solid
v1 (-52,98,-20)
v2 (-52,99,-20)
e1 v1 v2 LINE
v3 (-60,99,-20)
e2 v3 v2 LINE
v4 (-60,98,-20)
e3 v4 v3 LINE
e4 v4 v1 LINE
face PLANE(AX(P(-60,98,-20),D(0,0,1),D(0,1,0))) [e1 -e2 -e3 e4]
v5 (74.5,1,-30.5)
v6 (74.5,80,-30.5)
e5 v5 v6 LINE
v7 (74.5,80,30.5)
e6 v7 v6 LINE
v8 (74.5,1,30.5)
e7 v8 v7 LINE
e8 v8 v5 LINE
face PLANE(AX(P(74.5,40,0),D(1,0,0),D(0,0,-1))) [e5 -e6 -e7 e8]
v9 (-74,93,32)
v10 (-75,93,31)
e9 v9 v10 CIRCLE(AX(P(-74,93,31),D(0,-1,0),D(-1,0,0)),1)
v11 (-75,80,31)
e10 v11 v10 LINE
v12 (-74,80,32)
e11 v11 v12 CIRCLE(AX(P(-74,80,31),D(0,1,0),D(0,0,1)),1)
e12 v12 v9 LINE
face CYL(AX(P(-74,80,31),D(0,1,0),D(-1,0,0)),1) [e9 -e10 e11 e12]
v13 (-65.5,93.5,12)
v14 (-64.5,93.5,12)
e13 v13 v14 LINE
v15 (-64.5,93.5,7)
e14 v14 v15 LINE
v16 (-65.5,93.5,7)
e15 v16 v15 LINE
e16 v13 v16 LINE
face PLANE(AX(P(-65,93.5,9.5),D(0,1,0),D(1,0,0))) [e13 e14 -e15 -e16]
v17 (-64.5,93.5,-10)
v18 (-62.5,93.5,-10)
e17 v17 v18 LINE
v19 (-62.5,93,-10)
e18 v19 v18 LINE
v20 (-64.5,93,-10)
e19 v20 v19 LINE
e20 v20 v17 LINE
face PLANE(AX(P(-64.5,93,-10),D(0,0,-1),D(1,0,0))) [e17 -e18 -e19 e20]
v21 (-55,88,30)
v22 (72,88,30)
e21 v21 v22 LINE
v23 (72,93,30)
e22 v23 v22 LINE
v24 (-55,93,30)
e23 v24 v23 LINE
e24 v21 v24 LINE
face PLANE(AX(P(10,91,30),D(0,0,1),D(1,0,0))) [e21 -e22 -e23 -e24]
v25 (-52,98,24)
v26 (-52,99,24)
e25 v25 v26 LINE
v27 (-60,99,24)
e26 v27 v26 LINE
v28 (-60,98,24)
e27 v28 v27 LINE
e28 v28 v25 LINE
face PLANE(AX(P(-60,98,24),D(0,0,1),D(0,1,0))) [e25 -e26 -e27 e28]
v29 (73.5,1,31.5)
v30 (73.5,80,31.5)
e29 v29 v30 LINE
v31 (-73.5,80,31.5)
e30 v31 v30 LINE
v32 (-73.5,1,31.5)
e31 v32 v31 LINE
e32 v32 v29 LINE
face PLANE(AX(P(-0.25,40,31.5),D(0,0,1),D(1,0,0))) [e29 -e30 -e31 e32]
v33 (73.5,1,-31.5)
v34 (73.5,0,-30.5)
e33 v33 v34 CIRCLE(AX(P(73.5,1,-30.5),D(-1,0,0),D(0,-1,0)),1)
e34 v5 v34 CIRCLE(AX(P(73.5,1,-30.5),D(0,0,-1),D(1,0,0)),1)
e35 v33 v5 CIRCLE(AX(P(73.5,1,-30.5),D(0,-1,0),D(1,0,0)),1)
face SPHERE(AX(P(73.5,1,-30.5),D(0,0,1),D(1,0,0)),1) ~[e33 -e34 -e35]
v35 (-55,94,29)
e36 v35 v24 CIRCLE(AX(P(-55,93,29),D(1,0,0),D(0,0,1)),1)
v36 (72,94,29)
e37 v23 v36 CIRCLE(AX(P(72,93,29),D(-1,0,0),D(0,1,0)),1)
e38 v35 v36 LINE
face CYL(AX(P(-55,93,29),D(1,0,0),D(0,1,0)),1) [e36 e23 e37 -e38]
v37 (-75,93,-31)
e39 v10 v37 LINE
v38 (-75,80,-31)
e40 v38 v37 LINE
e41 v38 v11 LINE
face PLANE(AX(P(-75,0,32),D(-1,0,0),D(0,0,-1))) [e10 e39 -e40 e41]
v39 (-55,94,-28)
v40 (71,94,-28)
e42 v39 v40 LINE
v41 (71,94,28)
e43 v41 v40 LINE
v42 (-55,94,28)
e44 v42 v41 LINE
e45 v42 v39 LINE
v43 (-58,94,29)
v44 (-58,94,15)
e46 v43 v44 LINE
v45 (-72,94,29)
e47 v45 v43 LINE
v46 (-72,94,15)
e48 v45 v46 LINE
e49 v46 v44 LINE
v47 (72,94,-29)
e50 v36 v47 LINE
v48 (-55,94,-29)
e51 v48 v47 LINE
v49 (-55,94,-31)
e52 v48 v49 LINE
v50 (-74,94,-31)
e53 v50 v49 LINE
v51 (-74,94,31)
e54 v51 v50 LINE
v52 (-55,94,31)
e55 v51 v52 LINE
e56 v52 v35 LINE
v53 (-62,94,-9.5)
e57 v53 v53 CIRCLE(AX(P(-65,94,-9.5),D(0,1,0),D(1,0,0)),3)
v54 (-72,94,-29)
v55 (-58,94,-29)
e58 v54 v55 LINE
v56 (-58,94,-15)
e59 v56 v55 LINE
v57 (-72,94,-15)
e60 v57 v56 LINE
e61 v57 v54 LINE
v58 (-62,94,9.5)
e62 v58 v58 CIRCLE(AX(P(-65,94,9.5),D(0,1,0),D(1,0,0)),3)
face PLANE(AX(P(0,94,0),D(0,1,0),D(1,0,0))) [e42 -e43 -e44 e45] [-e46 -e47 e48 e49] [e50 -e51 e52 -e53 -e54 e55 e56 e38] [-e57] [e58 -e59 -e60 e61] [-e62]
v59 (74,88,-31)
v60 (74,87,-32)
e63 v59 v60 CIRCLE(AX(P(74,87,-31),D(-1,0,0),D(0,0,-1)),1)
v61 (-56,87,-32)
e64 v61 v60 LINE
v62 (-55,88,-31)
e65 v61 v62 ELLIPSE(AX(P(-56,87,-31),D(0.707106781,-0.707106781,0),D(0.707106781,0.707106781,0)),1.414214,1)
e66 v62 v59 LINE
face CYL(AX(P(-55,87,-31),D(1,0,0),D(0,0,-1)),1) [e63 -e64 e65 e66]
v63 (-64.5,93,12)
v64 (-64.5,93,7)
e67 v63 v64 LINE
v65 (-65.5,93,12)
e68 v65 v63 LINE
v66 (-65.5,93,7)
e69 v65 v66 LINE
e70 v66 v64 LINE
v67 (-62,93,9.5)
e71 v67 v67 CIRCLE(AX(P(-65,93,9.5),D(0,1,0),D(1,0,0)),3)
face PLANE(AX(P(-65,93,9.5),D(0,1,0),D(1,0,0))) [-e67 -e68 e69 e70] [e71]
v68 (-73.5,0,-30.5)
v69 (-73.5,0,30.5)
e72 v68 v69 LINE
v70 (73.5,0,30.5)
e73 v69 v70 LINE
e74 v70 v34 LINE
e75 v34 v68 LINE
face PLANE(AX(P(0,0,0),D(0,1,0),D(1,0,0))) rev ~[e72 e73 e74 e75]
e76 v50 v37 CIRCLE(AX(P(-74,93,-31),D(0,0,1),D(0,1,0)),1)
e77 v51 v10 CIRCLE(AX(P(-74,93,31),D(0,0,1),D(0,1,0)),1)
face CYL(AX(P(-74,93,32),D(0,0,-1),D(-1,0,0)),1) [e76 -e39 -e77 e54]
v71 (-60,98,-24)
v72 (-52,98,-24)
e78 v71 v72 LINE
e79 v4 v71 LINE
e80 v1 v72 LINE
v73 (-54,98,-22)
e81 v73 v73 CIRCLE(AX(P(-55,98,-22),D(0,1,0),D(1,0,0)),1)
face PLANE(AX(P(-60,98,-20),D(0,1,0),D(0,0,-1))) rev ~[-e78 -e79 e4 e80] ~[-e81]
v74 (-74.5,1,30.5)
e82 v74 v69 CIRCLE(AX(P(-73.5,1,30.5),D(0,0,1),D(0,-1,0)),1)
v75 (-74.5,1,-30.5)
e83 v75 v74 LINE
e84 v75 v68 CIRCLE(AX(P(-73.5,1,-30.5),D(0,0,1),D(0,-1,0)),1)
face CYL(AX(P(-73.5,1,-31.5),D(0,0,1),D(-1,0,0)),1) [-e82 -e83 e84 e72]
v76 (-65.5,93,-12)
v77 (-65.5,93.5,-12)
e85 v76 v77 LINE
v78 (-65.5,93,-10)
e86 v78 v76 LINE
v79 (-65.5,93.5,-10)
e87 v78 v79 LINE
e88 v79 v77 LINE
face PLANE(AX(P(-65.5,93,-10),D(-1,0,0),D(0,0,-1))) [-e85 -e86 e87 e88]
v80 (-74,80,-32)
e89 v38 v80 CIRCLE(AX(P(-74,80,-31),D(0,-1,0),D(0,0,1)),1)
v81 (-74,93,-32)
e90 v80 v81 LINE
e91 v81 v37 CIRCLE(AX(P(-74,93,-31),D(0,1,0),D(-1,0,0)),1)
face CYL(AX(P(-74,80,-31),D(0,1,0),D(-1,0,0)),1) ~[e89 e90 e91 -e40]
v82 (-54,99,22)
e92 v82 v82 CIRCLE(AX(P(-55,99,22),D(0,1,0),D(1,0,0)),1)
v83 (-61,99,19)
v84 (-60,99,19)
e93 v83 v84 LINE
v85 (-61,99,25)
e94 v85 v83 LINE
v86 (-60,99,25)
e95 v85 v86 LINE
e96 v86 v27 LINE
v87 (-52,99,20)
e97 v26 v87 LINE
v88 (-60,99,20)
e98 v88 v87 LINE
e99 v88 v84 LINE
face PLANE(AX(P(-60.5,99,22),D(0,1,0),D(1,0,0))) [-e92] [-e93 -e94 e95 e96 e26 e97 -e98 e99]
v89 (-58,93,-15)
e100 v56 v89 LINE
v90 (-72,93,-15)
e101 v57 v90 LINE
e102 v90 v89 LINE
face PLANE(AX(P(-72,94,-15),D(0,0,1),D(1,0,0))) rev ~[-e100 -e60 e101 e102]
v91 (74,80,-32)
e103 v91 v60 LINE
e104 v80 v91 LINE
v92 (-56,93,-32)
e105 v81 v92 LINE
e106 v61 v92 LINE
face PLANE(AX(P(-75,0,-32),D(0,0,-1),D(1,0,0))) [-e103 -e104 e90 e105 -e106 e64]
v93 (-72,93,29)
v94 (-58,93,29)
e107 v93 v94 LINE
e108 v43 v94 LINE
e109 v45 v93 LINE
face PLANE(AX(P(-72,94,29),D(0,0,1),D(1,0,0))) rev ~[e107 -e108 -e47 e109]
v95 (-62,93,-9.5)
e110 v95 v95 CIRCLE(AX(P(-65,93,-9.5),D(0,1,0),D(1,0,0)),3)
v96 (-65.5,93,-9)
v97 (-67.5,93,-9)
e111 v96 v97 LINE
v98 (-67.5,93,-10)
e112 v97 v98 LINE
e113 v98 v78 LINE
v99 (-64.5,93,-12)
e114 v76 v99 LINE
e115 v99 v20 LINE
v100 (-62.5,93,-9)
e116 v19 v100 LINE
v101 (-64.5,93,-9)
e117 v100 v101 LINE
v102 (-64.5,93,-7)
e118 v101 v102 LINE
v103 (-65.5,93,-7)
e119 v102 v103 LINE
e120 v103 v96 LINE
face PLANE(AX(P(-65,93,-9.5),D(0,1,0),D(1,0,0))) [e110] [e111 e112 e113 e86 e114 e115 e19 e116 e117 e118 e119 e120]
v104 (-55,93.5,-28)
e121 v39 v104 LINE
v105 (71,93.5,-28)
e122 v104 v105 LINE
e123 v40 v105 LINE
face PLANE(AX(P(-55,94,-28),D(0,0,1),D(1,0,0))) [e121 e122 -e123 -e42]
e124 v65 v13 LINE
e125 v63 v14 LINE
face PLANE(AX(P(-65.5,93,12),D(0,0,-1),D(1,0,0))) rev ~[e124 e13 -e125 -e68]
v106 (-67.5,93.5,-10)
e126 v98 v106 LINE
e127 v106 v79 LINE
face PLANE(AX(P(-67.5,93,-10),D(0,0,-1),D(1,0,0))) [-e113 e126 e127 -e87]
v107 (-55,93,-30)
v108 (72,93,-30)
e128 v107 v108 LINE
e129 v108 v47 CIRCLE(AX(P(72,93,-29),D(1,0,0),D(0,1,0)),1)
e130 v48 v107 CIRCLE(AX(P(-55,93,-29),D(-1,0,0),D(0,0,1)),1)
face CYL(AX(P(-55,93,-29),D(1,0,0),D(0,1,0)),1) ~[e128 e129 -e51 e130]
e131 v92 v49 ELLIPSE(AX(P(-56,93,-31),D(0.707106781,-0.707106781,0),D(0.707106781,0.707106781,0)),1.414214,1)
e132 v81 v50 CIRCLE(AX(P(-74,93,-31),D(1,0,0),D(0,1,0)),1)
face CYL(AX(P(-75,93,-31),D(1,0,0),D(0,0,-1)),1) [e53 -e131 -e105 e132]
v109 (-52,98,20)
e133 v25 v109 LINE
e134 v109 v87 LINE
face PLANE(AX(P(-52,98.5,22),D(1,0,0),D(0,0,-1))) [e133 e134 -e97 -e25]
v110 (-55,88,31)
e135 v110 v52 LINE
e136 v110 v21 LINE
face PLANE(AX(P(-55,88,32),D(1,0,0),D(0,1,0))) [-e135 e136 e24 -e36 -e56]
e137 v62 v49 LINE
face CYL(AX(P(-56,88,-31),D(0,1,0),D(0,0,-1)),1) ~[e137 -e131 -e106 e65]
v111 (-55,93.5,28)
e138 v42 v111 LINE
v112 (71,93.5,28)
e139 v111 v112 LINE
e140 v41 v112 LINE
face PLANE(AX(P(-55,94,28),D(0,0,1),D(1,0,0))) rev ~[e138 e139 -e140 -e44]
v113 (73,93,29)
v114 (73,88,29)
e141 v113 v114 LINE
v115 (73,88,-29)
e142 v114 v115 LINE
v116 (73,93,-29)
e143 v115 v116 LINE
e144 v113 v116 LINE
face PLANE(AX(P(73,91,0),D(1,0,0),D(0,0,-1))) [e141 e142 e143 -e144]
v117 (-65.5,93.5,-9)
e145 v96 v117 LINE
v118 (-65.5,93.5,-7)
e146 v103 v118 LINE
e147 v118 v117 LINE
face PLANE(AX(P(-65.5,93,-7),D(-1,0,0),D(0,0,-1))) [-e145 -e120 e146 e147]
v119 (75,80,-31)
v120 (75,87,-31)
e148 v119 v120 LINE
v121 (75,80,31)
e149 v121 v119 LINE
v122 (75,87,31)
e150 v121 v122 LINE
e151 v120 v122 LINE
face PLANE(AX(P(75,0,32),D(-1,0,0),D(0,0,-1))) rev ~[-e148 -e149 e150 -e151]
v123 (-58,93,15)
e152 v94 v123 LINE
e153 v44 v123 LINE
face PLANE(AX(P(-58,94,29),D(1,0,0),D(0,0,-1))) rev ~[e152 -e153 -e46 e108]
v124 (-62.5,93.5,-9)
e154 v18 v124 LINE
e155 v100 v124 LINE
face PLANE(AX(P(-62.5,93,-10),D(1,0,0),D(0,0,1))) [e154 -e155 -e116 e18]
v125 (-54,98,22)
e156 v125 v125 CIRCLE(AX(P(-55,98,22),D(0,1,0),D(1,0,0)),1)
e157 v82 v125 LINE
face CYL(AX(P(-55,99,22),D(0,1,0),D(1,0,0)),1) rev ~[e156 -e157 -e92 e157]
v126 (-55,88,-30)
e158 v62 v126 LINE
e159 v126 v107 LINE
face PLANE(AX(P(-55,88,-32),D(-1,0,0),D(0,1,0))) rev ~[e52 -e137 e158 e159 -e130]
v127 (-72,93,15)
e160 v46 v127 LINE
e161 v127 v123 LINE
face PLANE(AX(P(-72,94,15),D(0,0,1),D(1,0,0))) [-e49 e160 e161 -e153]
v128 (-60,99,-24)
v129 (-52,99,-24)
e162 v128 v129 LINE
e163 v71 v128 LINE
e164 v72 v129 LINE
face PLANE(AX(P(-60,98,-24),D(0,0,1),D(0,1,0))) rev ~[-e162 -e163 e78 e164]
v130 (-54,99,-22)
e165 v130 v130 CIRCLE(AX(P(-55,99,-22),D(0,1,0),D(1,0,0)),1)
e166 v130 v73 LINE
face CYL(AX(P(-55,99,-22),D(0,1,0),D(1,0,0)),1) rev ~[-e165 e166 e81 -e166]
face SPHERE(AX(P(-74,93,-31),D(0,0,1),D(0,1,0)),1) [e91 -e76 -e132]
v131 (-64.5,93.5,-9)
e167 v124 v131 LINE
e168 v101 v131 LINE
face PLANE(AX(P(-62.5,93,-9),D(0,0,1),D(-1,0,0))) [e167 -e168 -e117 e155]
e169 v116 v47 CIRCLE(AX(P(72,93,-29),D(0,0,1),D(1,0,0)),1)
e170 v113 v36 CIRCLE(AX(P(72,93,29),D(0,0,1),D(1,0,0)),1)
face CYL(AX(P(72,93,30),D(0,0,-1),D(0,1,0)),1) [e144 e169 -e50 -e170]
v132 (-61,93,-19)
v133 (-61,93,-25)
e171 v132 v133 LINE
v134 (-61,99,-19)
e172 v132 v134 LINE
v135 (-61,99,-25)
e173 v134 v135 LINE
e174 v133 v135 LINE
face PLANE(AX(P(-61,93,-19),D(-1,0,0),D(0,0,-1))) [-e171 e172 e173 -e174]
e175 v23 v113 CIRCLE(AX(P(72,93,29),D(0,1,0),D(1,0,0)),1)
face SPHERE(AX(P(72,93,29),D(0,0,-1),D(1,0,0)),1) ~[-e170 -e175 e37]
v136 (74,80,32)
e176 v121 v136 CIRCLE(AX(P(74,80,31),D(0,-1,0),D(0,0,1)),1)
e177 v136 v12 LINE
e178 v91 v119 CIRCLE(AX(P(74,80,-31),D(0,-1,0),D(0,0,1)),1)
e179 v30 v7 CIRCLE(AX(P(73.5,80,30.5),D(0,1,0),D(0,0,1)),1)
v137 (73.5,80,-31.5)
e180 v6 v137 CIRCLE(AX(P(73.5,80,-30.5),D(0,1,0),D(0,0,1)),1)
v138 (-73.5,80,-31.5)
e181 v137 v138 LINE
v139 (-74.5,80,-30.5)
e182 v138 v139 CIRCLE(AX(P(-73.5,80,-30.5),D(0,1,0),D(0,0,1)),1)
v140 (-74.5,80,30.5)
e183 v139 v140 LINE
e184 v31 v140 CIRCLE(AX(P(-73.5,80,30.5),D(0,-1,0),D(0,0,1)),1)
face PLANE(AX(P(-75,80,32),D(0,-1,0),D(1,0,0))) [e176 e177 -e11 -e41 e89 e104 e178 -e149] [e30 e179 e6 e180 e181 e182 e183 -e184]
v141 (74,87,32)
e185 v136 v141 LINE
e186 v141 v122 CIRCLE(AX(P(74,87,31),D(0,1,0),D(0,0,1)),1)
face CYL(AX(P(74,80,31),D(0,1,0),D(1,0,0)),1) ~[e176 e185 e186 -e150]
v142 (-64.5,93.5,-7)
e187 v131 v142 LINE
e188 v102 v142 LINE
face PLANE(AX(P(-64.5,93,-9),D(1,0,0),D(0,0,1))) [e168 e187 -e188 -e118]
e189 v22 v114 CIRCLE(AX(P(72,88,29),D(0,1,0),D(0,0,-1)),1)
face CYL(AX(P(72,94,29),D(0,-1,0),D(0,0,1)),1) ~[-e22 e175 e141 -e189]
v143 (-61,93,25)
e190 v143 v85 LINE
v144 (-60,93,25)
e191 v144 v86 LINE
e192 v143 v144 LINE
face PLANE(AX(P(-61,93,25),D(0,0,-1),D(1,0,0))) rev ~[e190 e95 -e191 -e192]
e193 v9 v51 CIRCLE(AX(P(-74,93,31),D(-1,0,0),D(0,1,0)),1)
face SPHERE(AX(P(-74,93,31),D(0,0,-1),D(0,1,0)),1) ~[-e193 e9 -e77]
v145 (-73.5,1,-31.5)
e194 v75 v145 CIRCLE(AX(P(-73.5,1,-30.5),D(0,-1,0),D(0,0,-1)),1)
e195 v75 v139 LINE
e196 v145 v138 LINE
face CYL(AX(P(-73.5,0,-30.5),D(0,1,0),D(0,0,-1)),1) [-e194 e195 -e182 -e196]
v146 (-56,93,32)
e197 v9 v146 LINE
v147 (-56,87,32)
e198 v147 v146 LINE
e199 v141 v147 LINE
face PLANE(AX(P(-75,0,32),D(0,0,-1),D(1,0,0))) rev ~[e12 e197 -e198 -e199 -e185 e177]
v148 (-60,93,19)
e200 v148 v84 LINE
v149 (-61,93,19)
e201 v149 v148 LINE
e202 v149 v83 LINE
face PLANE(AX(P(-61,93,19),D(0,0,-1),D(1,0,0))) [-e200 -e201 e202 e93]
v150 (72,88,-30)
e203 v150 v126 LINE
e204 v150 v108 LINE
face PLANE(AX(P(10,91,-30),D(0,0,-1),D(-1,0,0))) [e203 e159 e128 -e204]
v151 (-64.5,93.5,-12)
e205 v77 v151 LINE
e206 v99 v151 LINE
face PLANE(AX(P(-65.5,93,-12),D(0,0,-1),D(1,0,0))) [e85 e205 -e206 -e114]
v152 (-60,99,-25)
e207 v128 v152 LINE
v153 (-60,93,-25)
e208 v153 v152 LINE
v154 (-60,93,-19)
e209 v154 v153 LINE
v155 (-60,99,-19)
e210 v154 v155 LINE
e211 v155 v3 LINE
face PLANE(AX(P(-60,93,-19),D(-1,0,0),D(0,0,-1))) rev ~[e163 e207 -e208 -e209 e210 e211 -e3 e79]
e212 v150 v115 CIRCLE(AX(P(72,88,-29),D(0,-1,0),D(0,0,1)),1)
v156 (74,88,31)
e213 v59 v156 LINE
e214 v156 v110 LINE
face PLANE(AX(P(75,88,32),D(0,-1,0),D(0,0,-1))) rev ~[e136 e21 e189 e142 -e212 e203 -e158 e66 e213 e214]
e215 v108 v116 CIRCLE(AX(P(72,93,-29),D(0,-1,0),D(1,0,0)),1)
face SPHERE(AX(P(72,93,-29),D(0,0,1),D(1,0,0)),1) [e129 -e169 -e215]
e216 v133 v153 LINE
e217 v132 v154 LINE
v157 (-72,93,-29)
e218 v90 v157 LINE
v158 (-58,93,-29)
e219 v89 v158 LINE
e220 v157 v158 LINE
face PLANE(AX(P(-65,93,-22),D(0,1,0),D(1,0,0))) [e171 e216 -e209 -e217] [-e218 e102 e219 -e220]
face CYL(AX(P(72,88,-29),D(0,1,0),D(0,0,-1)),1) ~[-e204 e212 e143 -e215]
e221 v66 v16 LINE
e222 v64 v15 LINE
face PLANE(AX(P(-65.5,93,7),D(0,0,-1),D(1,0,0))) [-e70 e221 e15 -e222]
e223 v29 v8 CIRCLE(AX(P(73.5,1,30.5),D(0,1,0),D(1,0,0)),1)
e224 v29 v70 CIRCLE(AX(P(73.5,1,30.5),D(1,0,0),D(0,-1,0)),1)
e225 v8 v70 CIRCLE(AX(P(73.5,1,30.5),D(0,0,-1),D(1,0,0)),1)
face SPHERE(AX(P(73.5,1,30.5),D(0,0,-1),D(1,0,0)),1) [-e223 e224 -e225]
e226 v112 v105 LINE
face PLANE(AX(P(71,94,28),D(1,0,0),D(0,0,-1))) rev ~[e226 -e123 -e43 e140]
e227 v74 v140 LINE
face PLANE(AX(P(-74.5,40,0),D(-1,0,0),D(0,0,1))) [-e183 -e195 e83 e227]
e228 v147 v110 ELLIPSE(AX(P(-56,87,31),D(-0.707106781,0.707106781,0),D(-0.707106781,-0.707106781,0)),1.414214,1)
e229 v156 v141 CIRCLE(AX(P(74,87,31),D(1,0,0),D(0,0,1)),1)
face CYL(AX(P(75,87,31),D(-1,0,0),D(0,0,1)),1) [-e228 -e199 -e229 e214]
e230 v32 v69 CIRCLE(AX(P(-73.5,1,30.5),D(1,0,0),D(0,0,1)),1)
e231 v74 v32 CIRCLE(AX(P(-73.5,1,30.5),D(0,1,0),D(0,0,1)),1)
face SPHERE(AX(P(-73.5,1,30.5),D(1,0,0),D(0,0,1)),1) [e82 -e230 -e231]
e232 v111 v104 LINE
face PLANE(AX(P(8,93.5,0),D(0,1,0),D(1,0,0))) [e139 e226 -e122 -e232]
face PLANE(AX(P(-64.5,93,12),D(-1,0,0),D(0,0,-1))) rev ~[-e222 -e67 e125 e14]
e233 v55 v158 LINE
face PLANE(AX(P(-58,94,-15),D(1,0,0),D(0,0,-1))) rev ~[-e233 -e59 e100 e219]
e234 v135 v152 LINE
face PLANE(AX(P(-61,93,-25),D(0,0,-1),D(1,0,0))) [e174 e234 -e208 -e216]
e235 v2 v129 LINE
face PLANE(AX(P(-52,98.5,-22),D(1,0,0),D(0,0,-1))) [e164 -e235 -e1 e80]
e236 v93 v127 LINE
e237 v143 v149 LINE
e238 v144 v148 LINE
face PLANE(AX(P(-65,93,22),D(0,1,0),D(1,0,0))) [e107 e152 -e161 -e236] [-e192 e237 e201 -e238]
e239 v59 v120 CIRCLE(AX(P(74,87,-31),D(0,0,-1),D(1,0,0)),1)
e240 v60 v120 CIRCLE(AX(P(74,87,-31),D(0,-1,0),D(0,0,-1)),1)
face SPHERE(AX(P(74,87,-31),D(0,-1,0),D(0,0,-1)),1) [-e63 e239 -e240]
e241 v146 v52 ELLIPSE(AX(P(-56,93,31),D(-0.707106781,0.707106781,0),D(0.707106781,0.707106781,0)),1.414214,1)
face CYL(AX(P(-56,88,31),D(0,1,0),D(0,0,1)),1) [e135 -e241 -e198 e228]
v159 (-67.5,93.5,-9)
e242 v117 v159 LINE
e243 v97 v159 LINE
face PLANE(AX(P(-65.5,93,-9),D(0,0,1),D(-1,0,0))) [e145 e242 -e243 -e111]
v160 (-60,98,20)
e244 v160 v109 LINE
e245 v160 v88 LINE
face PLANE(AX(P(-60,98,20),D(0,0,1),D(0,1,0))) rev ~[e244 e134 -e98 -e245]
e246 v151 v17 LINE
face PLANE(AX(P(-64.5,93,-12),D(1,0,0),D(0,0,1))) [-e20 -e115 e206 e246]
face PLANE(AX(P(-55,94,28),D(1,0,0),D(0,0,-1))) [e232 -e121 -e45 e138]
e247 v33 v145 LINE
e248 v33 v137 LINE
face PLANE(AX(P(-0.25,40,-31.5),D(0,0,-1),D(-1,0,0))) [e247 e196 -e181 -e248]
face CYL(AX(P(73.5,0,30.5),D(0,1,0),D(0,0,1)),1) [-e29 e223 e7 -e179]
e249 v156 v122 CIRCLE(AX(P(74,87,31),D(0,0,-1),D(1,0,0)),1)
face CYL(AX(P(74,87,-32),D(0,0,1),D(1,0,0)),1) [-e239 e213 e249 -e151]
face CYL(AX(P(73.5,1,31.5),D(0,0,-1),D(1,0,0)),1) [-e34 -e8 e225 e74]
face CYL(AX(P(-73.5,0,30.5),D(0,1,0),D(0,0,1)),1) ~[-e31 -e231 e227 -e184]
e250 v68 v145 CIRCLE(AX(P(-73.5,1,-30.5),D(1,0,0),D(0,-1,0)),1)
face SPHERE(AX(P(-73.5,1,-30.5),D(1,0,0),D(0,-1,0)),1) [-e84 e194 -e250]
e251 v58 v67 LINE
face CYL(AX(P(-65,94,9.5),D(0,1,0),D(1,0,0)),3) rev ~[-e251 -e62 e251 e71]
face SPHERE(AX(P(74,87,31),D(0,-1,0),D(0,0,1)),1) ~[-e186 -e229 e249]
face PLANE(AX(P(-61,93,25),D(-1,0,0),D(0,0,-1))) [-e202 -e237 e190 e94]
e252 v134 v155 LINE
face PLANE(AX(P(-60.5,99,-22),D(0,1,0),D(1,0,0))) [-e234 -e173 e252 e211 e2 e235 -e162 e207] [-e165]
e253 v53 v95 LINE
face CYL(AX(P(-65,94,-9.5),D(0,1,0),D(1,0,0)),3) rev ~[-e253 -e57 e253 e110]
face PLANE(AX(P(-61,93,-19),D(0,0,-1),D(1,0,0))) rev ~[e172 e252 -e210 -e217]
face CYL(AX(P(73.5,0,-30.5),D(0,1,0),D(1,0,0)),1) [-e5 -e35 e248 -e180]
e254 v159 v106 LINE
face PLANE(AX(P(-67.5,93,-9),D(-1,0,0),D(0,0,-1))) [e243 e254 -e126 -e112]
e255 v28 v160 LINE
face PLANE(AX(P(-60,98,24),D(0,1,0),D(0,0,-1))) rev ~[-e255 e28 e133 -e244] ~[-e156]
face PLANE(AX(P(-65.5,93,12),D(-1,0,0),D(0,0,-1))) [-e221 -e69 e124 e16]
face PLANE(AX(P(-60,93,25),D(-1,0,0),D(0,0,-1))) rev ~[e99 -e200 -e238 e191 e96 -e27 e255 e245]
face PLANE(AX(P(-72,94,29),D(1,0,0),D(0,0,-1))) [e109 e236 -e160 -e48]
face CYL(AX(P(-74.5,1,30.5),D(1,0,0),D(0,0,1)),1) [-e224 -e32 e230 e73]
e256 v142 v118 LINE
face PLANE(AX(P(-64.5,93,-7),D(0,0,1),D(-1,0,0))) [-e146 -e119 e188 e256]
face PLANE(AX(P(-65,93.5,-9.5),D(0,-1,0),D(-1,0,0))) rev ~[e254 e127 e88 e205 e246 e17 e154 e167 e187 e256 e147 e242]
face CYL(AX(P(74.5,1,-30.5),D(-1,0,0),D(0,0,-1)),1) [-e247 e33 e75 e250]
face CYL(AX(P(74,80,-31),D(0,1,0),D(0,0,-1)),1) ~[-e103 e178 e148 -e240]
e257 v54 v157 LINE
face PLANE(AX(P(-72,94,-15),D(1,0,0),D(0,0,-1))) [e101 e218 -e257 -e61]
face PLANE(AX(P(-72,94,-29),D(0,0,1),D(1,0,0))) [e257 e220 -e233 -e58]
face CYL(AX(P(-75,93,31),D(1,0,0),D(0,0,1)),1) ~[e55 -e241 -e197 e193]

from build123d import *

# Parameters (mm, degrees)
SKETCH1_W           = 150
SKETCH1_H           = 64
BOSS_EXTRUDE1_DEPTH = 94
SKETCH2_W           = 64
SKETCH2_H           = 6
CUT_EXTRUDE1_DEPTH  = 2
CUT_EXTRUDE2_DEPTH  = 2
SKETCH4_W           = 130
SKETCH4_H           = 6
CUT_EXTRUDE3_DEPTH  = 2
SKETCH5_W           = 126
SKETCH5_H           = 56
CUT_EXTRUDE4_DEPTH  = 0.5
SKETCH6_W           = 14
SKETCH6_H           = 14
CUT_EXTRUDE5_DEPTH  = 1
SKETCH7_W           = 1
SKETCH7_H           = 6
BOSS_EXTRUDE2_DEPTH = 6
SKETCH8_W           = 4
SKETCH8_H           = 1
BOSS_EXTRUDE3_DEPTH = 8
SKETCH9_R           = 1
CUT_EXTRUDE6_DEPTH  = 1
SKETCH13_W          = 64
SKETCH13_H          = 80
CUT_EXTRUDE7_DEPTH  = 0.5
SKETCH14_W          = 149.5
SKETCH14_H          = 80
CUT_EXTRUDE8_DEPTH  = 0.5
SKETCH15_W          = 149.5
SKETCH15_H          = 80
CUT_EXTRUDE9_DEPTH  = 0.5
SKETCH16_W          = 63
SKETCH16_H          = 80
CUT_EXTRUDE10_DEPTH = 0.5
SKETCH17_R          = 3
CUT_EXTRUDE11_DEPTH = 1
SKETCH18_W          = 1
SKETCH18_H          = 5
BOSS_EXTRUDE4_DEPTH = 0.5
FILLET4_R           = 1
FILLET5_R           = 1


with BuildPart() as part:
    # Sketch1 → Boss-Extrude1 (new body)
    with BuildSketch(Plane(origin=(0, 0, 0), x_dir=(1, 0, 0), z_dir=(0, 1, 0))):
        Rectangle(SKETCH1_W, SKETCH1_H)
    extrude(amount=BOSS_EXTRUDE1_DEPTH)

    # Sketch2 → Cut-Extrude1 (cut)
    with BuildSketch(Plane(origin=(75, 0, 0), x_dir=(0, 0, -1), z_dir=(1, 0, 0))):
        with Locations((0, 91)):
            Rectangle(SKETCH2_W, SKETCH2_H)
    extrude(amount=-CUT_EXTRUDE1_DEPTH, mode=Mode.SUBTRACT)

    # Sketch3 → Cut-Extrude2 (cut)
    with BuildSketch(Plane(origin=(0, 0, -32), x_dir=(-1, 0, 0), z_dir=(0, 0, -1))):
        Polygon((-73, 88), (55, 88), (55, 94), (-73, 94), (-75, 94), (-75, 88), align=None)
    extrude(amount=-CUT_EXTRUDE2_DEPTH, mode=Mode.SUBTRACT)

    # Sketch4 → Cut-Extrude3 (cut)
    with BuildSketch(Plane.XY.offset(32)):
        with Locations((10, 91)):
            Rectangle(SKETCH4_W, SKETCH4_H)
    extrude(amount=-CUT_EXTRUDE3_DEPTH, mode=Mode.SUBTRACT)

    # Sketch5 → Cut-Extrude4 (cut)
    with BuildSketch(Plane(origin=(0, 94, 0), x_dir=(1, 0, 0), z_dir=(0, 1, 0))):
        with Locations((8, 0)):
            Rectangle(SKETCH5_W, SKETCH5_H)
    extrude(amount=-CUT_EXTRUDE4_DEPTH, mode=Mode.SUBTRACT)

    # Sketch6 → Cut-Extrude5 (cut)
    with BuildSketch(Plane(origin=(0, 94, 0), x_dir=(1, 0, 0), z_dir=(0, 1, 0))):
        with Locations((-65, -22)):
            Rectangle(SKETCH6_W, SKETCH6_H)
        with Locations((-65, 22)):
            Rectangle(SKETCH6_W, SKETCH6_H)
    extrude(amount=-CUT_EXTRUDE5_DEPTH, mode=Mode.SUBTRACT)

    # Sketch7 → Boss-Extrude2 (add)
    with BuildSketch(Plane(origin=(0, 93, 0), x_dir=(1, 0, 0), z_dir=(0, 1, 0))):
        with Locations((-60.5, 22)):
            Rectangle(SKETCH7_W, SKETCH7_H)
        with Locations((-60.5, -22)):
            Rectangle(SKETCH7_W, SKETCH7_H)
    extrude(amount=BOSS_EXTRUDE2_DEPTH)

    # Sketch8 → Boss-Extrude3 (add)
    with BuildSketch(Plane(origin=(-60, 0, 0), x_dir=(0, 0, -1), z_dir=(1, 0, 0))):
        with Locations((-22, 98.5)):
            Rectangle(SKETCH8_W, SKETCH8_H)
        with Locations((22, 98.5)):
            Rectangle(SKETCH8_W, SKETCH8_H)
    extrude(amount=BOSS_EXTRUDE3_DEPTH)

    # Sketch9 → Cut-Extrude6 (cut)
    with BuildSketch(Plane(origin=(0, 99, 0), x_dir=(1, 0, 0), z_dir=(0, 1, 0))):
        with Locations((-55, 22)):
            Circle(SKETCH9_R)
        with Locations((-55, -22)):
            Circle(SKETCH9_R)
    extrude(amount=-CUT_EXTRUDE6_DEPTH, mode=Mode.SUBTRACT)

    # Sketch13 → Cut-Extrude7 (cut)
    with BuildSketch(Plane(origin=(75, 0, 0), x_dir=(0, 0, -1), z_dir=(1, 0, 0))):
        with Locations((0, 40)):
            Rectangle(SKETCH13_W, SKETCH13_H)
    extrude(amount=-CUT_EXTRUDE7_DEPTH, mode=Mode.SUBTRACT)

    # Sketch14 → Cut-Extrude8 (cut)
    with BuildSketch(Plane.XY.offset(32)):
        with Locations((-0.25, 40)):
            Rectangle(SKETCH14_W, SKETCH14_H)
    extrude(amount=-CUT_EXTRUDE8_DEPTH, mode=Mode.SUBTRACT)

    # Sketch15 → Cut-Extrude9 (cut)
    with BuildSketch(Plane(origin=(0, 0, -32), x_dir=(-1, 0, 0), z_dir=(0, 0, -1))):
        with Locations((0.25, 40)):
            Rectangle(SKETCH15_W, SKETCH15_H)
    extrude(amount=-CUT_EXTRUDE9_DEPTH, mode=Mode.SUBTRACT)

    # Sketch16 → Cut-Extrude10 (cut)
    with BuildSketch(Plane.ZY.offset(75)):
        with Locations((0, 40)):
            Rectangle(SKETCH16_W, SKETCH16_H)
    extrude(amount=-CUT_EXTRUDE10_DEPTH, mode=Mode.SUBTRACT)

    # Sketch17 → Cut-Extrude11 (cut)
    with BuildSketch(Plane(origin=(0, 94, 0), x_dir=(1, 0, 0), z_dir=(0, 1, 0))):
        with Locations((-65, 9.5)):
            Circle(SKETCH17_R)
        with Locations((-65, -9.5)):
            Circle(SKETCH17_R)
    extrude(amount=-CUT_EXTRUDE11_DEPTH, mode=Mode.SUBTRACT)

    # Sketch18 → Boss-Extrude4 (add)
    with BuildSketch(Plane(origin=(0, 93, 0), x_dir=(1, 0, 0), z_dir=(0, 1, 0))):
        Polygon((-65.5, 12), (-64.5, 12), (-64.5, 10), (-62.5, 10), (-62.5, 9), (-64.5, 9), (-64.5, 7), (-65.5, 7), (-65.5, 9), (-67.5, 9), (-67.5, 10), (-65.5, 10), align=None)
        with Locations((-65, -9.5)):
            Rectangle(SKETCH18_W, SKETCH18_H)
    extrude(amount=BOSS_EXTRUDE4_DEPTH)

    # Fillet4
    fillet4_edges = [part.edges().sort_by_distance(p)[0] for p in [
        (74.5, 0, 0),
        (74.5, 40, 31.5),
        (74.5, 40, -31.5),
        (0, 0, -31.5),
        (0, 0, 31.5),
        (-74.5, 40, 31.5),
        (-74.5, 0, 0),
        (-74.5, 40, -31.5),
    ]]
    fillet(fillet4_edges, radius=FILLET4_R)

    # Fillet5
    fillet5_edges = [part.edges().sort_by_distance(p)[0] for p in [
        (-75, 94, 0),
        (-65, 94, 32),
        (75, 84, 32),
        (75, 84, -32),
        (10, 88, -32),
        (10, 88, 32),
        (75, 88, 0),
        (73, 94, 0),
        (73, 91, -30),
        (-65, 94, -32),
        (9, 94, -30),
        (-55, 91, -32),
        (73, 91, 30),
        (9, 94, 30),
        (-55, 91, 32),
        (-75, 87, 32),
        (-75, 87, -32),
    ]]
    fillet(fillet5_edges, radius=FILLET5_R)


solid = part.part
